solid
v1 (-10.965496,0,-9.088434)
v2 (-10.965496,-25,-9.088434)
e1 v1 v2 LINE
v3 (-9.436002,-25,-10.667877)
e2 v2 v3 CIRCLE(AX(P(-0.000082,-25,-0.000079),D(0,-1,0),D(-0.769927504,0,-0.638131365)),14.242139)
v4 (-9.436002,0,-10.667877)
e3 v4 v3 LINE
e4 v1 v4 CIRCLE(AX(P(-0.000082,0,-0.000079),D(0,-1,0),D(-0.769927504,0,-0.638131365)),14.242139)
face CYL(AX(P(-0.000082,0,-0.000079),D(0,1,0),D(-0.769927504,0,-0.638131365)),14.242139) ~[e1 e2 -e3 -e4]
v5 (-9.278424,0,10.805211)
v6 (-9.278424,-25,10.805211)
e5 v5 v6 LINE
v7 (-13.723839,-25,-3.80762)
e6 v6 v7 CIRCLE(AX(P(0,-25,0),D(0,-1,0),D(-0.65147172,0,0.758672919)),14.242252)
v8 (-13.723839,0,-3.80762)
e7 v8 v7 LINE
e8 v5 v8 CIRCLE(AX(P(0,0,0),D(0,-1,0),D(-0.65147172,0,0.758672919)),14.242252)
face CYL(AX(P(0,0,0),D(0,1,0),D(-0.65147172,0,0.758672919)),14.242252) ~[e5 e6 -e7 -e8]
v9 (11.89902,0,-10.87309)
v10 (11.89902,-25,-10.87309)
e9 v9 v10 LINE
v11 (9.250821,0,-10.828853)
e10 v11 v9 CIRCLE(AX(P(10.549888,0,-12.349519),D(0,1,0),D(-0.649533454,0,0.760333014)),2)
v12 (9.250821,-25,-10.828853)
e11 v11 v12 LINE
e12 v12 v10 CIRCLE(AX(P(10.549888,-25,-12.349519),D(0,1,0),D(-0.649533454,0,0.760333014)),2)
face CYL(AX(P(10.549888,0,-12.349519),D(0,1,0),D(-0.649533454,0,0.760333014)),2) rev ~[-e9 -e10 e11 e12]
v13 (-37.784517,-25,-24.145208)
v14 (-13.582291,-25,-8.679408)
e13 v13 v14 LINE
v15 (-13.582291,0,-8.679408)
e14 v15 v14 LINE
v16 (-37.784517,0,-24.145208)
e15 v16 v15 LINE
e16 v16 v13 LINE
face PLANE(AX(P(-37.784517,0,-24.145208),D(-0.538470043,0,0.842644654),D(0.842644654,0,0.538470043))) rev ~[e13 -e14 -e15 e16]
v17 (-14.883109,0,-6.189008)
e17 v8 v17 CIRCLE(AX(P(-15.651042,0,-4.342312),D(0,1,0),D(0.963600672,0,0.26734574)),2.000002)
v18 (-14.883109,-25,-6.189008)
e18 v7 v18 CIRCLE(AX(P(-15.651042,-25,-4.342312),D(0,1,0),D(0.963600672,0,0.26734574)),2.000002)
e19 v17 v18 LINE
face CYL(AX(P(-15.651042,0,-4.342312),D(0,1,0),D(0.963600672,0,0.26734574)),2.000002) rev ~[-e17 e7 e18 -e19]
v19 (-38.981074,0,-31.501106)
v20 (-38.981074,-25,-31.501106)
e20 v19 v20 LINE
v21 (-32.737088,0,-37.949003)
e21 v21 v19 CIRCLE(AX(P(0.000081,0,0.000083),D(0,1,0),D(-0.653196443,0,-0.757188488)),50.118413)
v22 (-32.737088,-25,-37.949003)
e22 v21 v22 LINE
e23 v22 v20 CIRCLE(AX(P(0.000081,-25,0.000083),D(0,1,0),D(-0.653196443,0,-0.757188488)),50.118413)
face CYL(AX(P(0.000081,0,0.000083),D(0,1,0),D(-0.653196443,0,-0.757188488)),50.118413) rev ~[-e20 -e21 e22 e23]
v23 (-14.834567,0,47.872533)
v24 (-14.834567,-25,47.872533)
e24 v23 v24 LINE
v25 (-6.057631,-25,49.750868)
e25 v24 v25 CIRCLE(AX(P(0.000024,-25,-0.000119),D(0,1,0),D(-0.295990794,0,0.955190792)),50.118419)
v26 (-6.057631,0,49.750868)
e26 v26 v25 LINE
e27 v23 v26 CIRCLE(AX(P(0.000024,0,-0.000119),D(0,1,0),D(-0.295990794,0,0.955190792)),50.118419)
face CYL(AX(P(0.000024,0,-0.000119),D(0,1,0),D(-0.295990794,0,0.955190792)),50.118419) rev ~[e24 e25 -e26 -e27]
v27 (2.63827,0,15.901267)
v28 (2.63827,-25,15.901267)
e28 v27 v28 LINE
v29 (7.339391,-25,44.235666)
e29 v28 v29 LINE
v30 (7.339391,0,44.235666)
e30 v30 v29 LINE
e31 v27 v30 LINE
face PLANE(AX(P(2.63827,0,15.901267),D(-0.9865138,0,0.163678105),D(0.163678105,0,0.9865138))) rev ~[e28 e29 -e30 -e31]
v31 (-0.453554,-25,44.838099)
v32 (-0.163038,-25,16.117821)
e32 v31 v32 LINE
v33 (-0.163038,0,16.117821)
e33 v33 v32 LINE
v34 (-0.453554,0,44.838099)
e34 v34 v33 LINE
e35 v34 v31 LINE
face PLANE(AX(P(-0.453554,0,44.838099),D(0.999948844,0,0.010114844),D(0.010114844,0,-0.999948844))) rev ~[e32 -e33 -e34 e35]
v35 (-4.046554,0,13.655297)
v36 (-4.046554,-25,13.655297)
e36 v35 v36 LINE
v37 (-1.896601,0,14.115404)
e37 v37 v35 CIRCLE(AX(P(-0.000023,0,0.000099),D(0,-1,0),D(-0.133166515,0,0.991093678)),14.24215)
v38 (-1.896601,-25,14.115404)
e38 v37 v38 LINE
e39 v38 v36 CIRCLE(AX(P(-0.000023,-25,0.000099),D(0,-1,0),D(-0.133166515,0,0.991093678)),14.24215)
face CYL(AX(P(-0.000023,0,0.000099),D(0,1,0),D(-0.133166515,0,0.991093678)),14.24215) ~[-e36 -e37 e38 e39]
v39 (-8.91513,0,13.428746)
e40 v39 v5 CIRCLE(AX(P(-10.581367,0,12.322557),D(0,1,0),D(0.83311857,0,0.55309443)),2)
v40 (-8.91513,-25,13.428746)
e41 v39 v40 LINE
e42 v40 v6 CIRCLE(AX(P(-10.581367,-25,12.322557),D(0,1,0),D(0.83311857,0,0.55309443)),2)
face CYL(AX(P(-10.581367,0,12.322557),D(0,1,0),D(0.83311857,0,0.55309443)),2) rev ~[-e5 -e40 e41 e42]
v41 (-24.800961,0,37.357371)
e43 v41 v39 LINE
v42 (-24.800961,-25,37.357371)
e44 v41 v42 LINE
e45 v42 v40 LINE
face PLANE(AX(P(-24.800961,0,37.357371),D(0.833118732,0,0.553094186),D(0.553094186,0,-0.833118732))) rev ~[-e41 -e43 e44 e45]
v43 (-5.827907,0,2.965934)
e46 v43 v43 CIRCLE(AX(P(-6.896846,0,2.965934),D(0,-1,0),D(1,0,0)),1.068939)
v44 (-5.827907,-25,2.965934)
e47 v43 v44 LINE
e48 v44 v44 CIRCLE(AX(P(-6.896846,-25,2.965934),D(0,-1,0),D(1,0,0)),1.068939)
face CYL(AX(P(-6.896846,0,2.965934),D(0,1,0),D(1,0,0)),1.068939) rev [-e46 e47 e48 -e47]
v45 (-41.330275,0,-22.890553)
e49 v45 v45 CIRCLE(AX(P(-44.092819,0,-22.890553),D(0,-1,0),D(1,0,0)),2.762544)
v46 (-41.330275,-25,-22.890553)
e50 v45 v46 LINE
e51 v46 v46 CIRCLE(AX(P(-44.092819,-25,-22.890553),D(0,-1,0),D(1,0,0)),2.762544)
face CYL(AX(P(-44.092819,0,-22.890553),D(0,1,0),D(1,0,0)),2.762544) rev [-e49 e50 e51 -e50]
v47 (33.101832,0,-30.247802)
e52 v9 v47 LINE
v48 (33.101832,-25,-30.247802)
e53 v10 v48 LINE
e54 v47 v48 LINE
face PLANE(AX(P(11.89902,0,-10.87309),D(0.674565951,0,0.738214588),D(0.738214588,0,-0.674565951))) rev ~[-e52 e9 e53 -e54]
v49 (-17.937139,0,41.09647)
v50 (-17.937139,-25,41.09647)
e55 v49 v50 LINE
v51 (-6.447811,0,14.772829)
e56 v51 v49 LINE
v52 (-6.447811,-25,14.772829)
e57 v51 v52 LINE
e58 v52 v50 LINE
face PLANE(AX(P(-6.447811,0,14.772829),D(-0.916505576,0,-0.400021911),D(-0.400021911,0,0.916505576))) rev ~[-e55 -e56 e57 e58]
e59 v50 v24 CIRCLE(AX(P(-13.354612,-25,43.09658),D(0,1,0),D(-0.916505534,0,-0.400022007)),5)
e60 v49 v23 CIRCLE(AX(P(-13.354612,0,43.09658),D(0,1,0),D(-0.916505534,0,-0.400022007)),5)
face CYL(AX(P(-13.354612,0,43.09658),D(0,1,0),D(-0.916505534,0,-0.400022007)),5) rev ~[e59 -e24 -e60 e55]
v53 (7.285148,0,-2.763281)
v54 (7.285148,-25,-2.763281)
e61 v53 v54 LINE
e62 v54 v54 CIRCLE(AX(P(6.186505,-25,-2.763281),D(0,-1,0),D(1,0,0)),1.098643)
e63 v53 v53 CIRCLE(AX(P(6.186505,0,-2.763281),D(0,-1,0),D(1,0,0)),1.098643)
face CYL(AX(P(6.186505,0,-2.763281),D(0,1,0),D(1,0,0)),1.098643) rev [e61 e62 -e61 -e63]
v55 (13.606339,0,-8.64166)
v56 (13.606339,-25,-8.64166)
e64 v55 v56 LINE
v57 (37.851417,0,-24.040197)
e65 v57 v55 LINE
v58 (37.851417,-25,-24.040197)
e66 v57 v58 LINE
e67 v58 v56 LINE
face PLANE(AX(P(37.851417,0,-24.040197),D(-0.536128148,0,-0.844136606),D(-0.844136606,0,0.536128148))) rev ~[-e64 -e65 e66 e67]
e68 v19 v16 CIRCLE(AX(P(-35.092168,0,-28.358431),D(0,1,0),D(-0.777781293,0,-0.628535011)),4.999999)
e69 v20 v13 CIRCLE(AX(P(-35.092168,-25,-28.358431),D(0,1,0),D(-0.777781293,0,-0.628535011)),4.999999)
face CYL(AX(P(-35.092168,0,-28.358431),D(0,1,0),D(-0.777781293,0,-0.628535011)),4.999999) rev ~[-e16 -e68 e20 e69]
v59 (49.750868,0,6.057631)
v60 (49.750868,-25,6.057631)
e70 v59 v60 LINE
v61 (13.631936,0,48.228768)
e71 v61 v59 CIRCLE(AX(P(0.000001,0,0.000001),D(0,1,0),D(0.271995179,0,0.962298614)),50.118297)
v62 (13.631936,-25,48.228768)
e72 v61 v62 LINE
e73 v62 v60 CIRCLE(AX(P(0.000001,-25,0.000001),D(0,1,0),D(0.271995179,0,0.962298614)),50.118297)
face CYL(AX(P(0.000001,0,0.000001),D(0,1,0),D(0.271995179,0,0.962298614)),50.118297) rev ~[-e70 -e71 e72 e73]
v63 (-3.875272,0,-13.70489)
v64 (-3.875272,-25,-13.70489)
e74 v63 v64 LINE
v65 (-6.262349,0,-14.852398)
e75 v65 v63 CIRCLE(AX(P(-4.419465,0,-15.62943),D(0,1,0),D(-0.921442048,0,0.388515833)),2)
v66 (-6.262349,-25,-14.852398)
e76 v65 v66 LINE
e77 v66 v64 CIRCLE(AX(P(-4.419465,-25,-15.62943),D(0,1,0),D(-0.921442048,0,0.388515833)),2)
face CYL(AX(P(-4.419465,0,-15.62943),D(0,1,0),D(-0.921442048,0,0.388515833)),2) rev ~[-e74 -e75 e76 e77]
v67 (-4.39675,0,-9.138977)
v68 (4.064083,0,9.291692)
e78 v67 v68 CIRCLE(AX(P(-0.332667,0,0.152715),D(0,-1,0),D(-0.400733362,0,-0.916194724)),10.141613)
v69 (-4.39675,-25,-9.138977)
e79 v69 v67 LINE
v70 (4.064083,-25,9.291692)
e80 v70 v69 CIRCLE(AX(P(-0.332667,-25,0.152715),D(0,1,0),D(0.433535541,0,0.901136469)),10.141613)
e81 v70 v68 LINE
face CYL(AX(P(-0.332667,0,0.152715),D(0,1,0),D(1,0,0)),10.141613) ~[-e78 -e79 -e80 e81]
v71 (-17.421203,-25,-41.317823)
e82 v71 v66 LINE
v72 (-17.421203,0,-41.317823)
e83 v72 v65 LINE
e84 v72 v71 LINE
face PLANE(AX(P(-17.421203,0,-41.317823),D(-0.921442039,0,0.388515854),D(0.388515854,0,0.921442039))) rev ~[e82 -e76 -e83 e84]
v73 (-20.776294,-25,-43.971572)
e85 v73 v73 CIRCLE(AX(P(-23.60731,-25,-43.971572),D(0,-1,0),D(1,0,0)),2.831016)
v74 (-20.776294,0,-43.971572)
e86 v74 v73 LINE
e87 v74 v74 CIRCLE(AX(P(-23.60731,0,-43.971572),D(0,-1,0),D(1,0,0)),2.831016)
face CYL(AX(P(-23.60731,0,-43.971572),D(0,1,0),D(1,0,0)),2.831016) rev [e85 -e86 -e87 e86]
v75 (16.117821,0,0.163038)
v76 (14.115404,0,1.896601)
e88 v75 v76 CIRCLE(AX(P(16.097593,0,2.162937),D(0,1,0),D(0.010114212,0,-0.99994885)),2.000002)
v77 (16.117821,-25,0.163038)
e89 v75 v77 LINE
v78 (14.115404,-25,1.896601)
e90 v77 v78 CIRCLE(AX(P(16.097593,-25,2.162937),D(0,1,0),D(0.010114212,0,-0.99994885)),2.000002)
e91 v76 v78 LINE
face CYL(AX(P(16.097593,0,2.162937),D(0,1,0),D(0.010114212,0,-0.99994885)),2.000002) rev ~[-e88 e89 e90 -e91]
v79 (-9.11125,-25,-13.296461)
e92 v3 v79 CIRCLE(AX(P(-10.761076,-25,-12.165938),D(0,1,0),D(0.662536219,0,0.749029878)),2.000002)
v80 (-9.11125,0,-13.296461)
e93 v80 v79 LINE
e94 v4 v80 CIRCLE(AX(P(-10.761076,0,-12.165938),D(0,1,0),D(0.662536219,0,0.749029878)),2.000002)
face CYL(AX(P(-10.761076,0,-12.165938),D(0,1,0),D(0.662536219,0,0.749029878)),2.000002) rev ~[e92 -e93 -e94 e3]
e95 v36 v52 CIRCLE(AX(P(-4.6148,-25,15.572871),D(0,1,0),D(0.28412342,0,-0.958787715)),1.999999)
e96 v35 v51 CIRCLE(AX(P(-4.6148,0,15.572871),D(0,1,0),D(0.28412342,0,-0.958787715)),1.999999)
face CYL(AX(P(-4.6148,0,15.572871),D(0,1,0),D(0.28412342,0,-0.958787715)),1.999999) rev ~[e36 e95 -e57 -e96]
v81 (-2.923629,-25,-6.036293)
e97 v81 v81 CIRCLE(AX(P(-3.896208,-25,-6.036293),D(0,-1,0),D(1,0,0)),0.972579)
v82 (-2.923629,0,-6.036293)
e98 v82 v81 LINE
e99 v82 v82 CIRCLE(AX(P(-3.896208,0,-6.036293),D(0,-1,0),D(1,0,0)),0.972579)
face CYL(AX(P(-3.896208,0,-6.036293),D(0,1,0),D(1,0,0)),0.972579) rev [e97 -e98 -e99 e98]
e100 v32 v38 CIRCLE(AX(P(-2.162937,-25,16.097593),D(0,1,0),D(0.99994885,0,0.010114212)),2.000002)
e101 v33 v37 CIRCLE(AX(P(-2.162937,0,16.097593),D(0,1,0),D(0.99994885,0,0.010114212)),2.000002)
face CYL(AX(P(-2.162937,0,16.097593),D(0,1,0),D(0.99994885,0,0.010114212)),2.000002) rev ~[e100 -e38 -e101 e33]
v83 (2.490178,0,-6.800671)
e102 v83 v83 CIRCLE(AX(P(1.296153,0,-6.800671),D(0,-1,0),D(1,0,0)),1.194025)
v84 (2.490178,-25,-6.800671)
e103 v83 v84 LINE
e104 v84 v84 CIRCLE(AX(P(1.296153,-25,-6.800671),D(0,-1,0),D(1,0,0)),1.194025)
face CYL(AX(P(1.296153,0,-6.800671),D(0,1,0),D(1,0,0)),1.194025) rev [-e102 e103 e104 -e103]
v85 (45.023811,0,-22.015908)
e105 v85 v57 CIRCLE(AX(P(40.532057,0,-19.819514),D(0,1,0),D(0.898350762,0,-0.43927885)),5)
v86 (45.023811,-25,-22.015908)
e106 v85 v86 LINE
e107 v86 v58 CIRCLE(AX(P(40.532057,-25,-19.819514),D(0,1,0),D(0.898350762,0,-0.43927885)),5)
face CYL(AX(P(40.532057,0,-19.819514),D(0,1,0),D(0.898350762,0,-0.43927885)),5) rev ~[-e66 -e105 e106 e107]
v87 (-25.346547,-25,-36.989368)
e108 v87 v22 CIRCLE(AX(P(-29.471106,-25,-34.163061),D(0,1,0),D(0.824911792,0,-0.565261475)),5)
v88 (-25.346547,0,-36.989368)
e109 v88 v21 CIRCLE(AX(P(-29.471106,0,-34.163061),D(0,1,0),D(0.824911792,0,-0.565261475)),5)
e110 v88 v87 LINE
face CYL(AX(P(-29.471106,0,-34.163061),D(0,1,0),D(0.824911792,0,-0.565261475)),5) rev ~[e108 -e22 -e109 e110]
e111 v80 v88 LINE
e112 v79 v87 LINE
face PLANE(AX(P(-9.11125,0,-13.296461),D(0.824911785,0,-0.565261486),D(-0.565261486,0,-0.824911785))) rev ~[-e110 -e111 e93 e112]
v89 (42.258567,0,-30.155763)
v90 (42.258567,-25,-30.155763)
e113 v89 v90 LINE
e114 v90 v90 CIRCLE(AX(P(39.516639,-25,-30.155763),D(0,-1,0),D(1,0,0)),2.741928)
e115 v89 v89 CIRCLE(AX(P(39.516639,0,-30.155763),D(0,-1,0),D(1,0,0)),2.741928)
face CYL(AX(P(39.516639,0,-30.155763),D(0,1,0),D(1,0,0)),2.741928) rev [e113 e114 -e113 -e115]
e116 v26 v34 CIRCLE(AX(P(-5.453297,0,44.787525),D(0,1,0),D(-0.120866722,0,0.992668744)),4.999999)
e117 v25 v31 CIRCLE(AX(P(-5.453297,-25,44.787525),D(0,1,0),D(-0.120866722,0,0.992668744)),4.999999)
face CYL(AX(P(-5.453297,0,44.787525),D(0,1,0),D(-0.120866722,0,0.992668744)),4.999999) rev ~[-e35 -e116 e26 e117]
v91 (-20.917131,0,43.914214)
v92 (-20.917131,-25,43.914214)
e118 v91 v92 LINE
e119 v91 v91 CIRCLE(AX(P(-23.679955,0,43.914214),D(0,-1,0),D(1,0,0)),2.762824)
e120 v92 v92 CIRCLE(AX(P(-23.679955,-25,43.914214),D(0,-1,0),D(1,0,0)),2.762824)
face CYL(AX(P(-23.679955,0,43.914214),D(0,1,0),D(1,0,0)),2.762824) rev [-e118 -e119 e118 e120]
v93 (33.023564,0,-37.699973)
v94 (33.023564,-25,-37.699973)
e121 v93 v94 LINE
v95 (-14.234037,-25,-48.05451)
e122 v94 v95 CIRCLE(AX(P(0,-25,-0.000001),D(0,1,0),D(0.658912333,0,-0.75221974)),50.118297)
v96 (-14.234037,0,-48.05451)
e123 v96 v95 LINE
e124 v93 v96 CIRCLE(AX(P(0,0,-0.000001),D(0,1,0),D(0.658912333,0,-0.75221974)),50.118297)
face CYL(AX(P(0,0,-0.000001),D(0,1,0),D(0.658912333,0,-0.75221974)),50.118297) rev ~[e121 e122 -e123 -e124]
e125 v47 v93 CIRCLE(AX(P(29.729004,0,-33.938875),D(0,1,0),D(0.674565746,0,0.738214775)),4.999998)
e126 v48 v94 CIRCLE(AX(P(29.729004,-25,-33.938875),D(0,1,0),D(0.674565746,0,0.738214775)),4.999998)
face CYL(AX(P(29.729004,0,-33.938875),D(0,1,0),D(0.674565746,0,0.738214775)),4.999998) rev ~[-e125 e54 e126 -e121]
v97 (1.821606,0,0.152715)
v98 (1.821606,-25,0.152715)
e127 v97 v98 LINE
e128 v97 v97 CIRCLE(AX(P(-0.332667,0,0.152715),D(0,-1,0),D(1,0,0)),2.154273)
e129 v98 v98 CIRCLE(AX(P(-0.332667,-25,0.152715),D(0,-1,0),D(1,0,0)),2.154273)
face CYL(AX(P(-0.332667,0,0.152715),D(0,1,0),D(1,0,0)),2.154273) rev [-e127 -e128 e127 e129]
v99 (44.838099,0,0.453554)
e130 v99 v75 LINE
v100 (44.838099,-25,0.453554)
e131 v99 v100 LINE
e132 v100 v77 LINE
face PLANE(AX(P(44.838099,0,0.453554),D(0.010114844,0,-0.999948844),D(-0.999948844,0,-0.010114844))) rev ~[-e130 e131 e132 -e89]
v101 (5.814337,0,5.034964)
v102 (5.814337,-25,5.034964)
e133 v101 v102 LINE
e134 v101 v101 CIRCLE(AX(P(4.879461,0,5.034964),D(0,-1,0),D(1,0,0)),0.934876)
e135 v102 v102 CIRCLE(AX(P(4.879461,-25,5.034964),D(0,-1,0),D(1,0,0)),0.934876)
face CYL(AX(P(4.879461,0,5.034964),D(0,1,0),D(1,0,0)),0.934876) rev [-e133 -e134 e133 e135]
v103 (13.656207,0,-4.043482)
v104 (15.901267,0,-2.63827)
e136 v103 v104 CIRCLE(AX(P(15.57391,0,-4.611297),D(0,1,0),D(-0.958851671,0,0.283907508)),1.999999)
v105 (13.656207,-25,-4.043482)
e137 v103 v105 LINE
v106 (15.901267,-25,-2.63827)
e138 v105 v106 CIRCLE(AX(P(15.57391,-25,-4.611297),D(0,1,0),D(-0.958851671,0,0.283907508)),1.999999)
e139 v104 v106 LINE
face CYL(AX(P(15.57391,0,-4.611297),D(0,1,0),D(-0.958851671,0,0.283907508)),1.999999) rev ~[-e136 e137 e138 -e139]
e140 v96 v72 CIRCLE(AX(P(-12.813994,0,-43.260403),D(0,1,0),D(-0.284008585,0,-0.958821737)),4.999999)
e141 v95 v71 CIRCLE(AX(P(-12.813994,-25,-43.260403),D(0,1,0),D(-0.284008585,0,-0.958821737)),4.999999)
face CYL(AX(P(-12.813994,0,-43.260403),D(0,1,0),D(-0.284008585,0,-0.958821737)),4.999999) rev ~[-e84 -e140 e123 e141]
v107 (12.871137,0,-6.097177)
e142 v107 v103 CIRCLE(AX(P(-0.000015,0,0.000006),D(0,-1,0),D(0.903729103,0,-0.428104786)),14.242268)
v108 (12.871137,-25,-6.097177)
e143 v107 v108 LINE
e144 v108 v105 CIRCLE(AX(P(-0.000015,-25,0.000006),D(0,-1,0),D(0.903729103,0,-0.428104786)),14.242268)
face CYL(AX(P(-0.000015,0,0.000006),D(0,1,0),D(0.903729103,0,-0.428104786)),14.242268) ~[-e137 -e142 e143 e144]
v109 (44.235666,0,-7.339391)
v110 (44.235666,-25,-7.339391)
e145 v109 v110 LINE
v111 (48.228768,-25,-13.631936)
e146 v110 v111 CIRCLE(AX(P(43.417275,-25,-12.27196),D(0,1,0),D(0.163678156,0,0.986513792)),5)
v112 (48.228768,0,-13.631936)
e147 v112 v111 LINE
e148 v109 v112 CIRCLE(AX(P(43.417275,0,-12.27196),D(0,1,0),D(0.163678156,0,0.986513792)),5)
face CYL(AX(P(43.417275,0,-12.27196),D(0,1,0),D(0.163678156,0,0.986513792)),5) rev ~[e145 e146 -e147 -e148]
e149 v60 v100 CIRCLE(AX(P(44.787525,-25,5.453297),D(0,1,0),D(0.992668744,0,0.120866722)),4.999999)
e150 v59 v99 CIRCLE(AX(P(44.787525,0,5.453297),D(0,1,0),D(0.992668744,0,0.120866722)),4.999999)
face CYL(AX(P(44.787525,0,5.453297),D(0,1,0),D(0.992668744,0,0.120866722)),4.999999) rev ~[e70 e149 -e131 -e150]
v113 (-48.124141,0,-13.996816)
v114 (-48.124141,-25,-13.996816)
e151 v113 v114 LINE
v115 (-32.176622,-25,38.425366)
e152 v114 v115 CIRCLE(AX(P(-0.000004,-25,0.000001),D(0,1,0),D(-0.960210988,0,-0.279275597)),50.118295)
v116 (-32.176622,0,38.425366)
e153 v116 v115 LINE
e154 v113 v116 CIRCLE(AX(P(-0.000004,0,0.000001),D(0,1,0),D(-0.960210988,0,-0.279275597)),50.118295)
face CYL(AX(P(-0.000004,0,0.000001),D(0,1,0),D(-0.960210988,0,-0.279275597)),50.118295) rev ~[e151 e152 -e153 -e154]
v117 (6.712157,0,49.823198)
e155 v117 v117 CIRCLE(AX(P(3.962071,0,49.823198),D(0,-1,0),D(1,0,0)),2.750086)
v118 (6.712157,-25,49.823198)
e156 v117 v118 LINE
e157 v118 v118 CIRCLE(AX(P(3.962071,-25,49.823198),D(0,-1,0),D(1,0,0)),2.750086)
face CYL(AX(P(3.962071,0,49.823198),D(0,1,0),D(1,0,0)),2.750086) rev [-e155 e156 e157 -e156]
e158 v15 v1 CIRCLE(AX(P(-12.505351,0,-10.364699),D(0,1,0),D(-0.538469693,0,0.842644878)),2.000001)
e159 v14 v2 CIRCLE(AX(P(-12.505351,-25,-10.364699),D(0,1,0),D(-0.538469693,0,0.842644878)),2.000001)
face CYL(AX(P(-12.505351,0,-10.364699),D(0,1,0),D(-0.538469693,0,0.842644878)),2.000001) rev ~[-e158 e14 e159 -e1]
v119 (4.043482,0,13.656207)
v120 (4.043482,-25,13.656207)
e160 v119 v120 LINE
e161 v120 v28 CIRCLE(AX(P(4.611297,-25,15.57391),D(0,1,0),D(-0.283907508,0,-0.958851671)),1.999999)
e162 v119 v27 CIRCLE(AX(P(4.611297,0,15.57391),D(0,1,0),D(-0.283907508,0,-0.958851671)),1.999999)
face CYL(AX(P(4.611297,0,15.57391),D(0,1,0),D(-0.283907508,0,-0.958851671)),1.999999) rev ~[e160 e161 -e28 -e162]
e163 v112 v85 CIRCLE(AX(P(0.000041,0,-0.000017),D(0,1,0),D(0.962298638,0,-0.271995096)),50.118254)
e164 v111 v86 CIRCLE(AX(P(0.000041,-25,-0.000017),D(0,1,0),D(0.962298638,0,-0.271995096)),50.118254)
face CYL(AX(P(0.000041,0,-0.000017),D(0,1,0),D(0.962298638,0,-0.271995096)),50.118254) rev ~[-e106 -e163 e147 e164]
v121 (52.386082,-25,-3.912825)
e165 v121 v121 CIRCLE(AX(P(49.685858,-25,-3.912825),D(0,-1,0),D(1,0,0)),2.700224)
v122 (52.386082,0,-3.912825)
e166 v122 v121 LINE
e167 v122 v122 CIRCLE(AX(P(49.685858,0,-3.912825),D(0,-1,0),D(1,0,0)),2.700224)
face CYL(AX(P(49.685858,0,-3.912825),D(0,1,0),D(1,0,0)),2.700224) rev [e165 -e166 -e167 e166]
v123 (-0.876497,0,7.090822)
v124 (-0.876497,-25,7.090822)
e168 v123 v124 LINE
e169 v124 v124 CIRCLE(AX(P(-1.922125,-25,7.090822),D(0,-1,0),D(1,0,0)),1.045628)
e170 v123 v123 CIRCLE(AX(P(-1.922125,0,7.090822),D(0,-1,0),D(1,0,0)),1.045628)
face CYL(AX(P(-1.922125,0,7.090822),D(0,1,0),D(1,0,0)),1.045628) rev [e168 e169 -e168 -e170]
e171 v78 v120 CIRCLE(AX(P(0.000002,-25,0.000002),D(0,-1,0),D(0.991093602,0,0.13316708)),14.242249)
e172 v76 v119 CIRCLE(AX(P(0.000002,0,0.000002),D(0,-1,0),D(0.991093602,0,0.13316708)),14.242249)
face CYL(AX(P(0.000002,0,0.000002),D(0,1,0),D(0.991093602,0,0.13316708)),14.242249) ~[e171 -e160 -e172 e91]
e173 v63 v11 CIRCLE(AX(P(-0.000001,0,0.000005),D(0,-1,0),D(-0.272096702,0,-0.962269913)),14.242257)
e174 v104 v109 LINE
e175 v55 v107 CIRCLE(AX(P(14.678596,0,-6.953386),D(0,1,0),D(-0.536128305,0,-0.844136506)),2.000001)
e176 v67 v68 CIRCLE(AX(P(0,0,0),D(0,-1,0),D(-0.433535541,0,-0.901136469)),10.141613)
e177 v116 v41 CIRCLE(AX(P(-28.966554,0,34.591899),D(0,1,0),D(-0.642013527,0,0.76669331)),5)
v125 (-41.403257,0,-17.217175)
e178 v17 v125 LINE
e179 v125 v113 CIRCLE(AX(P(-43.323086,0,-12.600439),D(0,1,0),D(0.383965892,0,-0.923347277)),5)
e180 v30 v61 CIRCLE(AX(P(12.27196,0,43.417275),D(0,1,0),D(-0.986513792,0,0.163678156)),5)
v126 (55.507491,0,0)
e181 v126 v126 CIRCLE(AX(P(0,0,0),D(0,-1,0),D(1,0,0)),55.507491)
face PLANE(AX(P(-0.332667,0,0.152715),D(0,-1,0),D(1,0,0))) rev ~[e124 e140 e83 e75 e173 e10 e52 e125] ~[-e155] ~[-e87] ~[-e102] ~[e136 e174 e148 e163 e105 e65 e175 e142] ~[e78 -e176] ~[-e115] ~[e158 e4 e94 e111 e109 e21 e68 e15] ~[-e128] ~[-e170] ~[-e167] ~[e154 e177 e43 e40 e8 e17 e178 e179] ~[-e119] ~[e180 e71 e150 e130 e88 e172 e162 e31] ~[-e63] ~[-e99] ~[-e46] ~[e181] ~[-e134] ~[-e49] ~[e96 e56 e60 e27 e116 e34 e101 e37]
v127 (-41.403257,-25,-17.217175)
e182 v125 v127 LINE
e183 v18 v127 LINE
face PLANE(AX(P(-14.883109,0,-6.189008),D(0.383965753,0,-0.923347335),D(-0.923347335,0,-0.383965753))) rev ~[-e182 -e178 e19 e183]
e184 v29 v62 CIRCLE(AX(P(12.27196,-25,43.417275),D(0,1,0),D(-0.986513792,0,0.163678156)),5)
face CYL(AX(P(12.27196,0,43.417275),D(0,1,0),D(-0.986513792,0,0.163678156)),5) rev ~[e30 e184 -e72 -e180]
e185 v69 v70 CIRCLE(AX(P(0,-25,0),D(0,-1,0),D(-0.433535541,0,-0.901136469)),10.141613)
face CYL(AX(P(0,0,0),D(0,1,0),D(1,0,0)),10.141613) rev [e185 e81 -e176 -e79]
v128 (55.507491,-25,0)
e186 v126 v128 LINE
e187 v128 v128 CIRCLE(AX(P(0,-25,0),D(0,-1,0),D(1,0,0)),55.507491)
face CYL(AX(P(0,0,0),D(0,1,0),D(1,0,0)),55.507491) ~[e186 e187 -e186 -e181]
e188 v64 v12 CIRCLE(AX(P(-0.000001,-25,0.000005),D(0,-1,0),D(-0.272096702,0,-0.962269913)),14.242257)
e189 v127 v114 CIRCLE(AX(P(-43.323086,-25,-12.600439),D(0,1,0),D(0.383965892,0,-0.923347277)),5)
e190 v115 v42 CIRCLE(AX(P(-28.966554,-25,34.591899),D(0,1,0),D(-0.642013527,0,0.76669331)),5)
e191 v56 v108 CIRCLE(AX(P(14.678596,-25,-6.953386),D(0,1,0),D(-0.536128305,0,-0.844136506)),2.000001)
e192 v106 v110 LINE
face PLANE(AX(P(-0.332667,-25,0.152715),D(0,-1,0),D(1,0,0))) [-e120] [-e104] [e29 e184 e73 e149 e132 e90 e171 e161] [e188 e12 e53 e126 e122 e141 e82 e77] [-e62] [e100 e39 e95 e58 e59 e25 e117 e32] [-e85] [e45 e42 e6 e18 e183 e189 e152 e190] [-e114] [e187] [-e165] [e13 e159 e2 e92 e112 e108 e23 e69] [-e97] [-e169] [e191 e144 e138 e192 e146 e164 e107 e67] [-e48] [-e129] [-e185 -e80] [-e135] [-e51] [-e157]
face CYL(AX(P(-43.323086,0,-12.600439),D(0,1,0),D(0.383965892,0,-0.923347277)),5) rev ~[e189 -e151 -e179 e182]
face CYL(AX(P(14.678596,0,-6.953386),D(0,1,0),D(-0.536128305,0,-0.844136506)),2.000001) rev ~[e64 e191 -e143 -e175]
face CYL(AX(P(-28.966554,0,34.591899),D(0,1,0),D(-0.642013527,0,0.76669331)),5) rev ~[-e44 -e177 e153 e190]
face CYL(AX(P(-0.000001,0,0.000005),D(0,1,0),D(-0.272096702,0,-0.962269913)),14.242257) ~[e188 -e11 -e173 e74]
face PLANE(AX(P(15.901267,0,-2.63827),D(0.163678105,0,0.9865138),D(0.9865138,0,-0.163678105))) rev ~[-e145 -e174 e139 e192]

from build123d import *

# Parameters (mm, degrees)
F0_R     = 55.507491
F0_R_2   = 2.831016
F0_R_3   = 2.762544
F0_R_4   = 2.741928
F0_R_5   = 2.700224
F0_R_6   = 2.762824
F0_R_7   = 10.141613
F0_R_8   = 2.750086
F1_DEPTH = 25
F2_R     = 10.141613
F2_R_2   = 0.972579
F2_R_3   = 1.194025
F2_R_4   = 1.098643
F2_R_5   = 1.068939
F2_R_6   = 1.045628
F2_R_7   = 2.154273
F2_R_8   = 0.934876
F3_DEPTH = 25


with BuildPart() as f1:
    # F0 (on Front) → F1 (new body)
    with BuildSketch(Plane.XZ):
        Circle(F0_R)
        with Locations((-23.60731, -43.971572)):
            Circle(F0_R_2, mode=Mode.SUBTRACT)
        with Locations((-44.092819, -22.890553)):
            Circle(F0_R_3, mode=Mode.SUBTRACT)
        with BuildLine():
            ThreePointArc((-38.981074, -31.501106), (-40.027301, -27.555651), (-37.784517, -24.145208))
            Line((-37.784517, -24.145208), (-13.582291, -8.679408))
            ThreePointArc((-13.582291, -8.679408), (-12.196485, -8.388691), (-10.965496, -9.088434))
            ThreePointArc((-10.965496, -9.088434), (-10.231273, -9.907714), (-9.436002, -10.667877))
            ThreePointArc((-9.436002, -10.667877), (-8.776165, -11.92071), (-9.11125, -13.296461))
            Line((-9.11125, -13.296461), (-25.346547, -36.989368))
            ThreePointArc((-25.346547, -36.989368), (-28.827279, -39.121436), (-32.737088, -37.949003))
            ThreePointArc((-32.737088, -37.949003), (-36.003715, -34.865115), (-38.981074, -31.501106))
        make_face(mode=Mode.SUBTRACT)
        with BuildLine():
            ThreePointArc((9.250821, -10.828853), (10.583292, -10.349798), (11.89902, -10.87309))
            Line((11.89902, -10.87309), (33.101832, -30.247802))
            ThreePointArc((33.101832, -30.247802), (34.728727, -33.991385), (33.023564, -37.699973))
            ThreePointArc((33.023564, -37.699973), (10.726868, -48.9569), (-14.234037, -48.05451))
            ThreePointArc((-14.234037, -48.05451), (-17.333693, -45.398699), (-17.421203, -41.317823))
            Line((-17.421203, -41.317823), (-6.262349, -14.852398))
            ThreePointArc((-6.262349, -14.852398), (-5.285977, -13.826888), (-3.875272, -13.70489))
            ThreePointArc((-3.875272, -13.70489), (3.048283, -13.912214), (9.250821, -10.828853))
        make_face(mode=Mode.SUBTRACT)
        with Locations((39.516639, -30.155763)):
            Circle(F0_R_4, mode=Mode.SUBTRACT)
        with BuildLine():
            ThreePointArc((45.023811, -22.015908), (41.89017, -24.631533), (37.851417, -24.040197))
            Line((37.851417, -24.040197), (13.606339, -8.64166))
            ThreePointArc((13.606339, -8.64166), (12.757193, -7.508556), (12.871137, -6.097177))
            ThreePointArc((12.871137, -6.097177), (13.303361, -5.085501), (13.656207, -4.043482))
            ThreePointArc((13.656207, -4.043482), (14.512799, -2.915997), (15.901267, -2.63827))
            Line((15.901267, -2.63827), (44.235666, -7.339391))
            ThreePointArc((44.235666, -7.339391), (47.638996, -9.592954), (48.228768, -13.631936))
            ThreePointArc((48.228768, -13.631936), (46.814353, -17.895813), (45.023811, -22.015908))
        make_face(mode=Mode.SUBTRACT)
        with Locations((49.685858, -3.912825)):
            Circle(F0_R_5, mode=Mode.SUBTRACT)
        with BuildLine():
            ThreePointArc((-8.91513, 13.428746), (-8.600271, 12.048225), (-9.278424, 10.805211))
            ThreePointArc((-9.278424, 10.805211), (-13.625701, 4.145118), (-13.723839, -3.80762))
            ThreePointArc((-13.723839, -3.80762), (-13.852795, -5.217706), (-14.883109, -6.189008))
            Line((-14.883109, -6.189008), (-41.403257, -17.217175))
            ThreePointArc((-41.403257, -17.217175), (-45.483651, -17.109536), (-48.124141, -13.996816))
            ThreePointArc((-48.124141, -13.996816), (-47.948665, 14.586616), (-32.176622, 38.425366))
            ThreePointArc((-32.176622, 38.425366), (-28.250027, 39.540292), (-24.800961, 37.357371))
            Line((-24.800961, 37.357371), (-8.91513, 13.428746))
        make_face(mode=Mode.SUBTRACT)
        with BuildLine():
            ThreePointArc((-14.834567, 47.872533), (-10.488232, 49.008578), (-6.057631, 49.750868))
            ThreePointArc((-6.057631, 49.750868), (-2.15728, 48.547347), (-0.453554, 44.838099))
            Line((-0.453554, 44.838099), (-0.163038, 16.117821))
            ThreePointArc((-0.163038, 16.117821), (-0.650861, 14.788535), (-1.896601, 14.115404))
            ThreePointArc((-1.896601, 14.115404), (-2.980469, 13.9269), (-4.046554, 13.655297))
            ThreePointArc((-4.046554, 13.655297), (-5.458676, 13.759623), (-6.447811, 14.772829))
            Line((-6.447811, 14.772829), (-17.937139, 41.09647))
            ThreePointArc((-17.937139, 41.09647), (-17.900729, 45.178121), (-14.834567, 47.872533))
        make_face(mode=Mode.SUBTRACT)
        with Locations((-23.679955, 43.914214)):
            Circle(F0_R_6, mode=Mode.SUBTRACT)
        Circle(F0_R_7, mode=Mode.SUBTRACT)
        with BuildLine():
            Line((2.63827, 15.901267), (7.339391, 44.235666))
            ThreePointArc((7.339391, 44.235666), (9.592954, 47.638996), (13.631936, 48.228768))
            ThreePointArc((13.631936, 48.228768), (38.065025, 32.602111), (49.750868, 6.057631))
            ThreePointArc((49.750868, 6.057631), (48.547347, 2.15728), (44.838099, 0.453554))
            Line((44.838099, 0.453554), (16.117821, 0.163038))
            ThreePointArc((16.117821, 0.163038), (14.788535, 0.650861), (14.115404, 1.896601))
            ThreePointArc((14.115404, 1.896601), (10.817041, 9.26463), (4.043482, 13.656207))
            ThreePointArc((4.043482, 13.656207), (2.915997, 14.512799), (2.63827, 15.901267))
        make_face(mode=Mode.SUBTRACT)
        with Locations((3.962071, 49.823198)):
            Circle(F0_R_8, mode=Mode.SUBTRACT)
    extrude(amount=F1_DEPTH)

    # F2 (on Front) → F3 (join)
    with BuildSketch(Plane.XZ):
        with Locations((-0.332667, 0.152715)):
            Circle(F2_R)
        with Locations((-3.896208, -6.036293)):
            Circle(F2_R_2, mode=Mode.SUBTRACT)
        with Locations((1.296153, -6.800671)):
            Circle(F2_R_3, mode=Mode.SUBTRACT)
        with Locations((6.186505, -2.763281)):
            Circle(F2_R_4, mode=Mode.SUBTRACT)
        with Locations((-6.896846, 2.965934)):
            Circle(F2_R_5, mode=Mode.SUBTRACT)
        with Locations((-1.922125, 7.090822)):
            Circle(F2_R_6, mode=Mode.SUBTRACT)
        with Locations((-0.332667, 0.152715)):
            Circle(F2_R_7, mode=Mode.SUBTRACT)
        with Locations((4.879461, 5.034964)):
            Circle(F2_R_8, mode=Mode.SUBTRACT)
    extrude(amount=F3_DEPTH)


solid = f1.part
